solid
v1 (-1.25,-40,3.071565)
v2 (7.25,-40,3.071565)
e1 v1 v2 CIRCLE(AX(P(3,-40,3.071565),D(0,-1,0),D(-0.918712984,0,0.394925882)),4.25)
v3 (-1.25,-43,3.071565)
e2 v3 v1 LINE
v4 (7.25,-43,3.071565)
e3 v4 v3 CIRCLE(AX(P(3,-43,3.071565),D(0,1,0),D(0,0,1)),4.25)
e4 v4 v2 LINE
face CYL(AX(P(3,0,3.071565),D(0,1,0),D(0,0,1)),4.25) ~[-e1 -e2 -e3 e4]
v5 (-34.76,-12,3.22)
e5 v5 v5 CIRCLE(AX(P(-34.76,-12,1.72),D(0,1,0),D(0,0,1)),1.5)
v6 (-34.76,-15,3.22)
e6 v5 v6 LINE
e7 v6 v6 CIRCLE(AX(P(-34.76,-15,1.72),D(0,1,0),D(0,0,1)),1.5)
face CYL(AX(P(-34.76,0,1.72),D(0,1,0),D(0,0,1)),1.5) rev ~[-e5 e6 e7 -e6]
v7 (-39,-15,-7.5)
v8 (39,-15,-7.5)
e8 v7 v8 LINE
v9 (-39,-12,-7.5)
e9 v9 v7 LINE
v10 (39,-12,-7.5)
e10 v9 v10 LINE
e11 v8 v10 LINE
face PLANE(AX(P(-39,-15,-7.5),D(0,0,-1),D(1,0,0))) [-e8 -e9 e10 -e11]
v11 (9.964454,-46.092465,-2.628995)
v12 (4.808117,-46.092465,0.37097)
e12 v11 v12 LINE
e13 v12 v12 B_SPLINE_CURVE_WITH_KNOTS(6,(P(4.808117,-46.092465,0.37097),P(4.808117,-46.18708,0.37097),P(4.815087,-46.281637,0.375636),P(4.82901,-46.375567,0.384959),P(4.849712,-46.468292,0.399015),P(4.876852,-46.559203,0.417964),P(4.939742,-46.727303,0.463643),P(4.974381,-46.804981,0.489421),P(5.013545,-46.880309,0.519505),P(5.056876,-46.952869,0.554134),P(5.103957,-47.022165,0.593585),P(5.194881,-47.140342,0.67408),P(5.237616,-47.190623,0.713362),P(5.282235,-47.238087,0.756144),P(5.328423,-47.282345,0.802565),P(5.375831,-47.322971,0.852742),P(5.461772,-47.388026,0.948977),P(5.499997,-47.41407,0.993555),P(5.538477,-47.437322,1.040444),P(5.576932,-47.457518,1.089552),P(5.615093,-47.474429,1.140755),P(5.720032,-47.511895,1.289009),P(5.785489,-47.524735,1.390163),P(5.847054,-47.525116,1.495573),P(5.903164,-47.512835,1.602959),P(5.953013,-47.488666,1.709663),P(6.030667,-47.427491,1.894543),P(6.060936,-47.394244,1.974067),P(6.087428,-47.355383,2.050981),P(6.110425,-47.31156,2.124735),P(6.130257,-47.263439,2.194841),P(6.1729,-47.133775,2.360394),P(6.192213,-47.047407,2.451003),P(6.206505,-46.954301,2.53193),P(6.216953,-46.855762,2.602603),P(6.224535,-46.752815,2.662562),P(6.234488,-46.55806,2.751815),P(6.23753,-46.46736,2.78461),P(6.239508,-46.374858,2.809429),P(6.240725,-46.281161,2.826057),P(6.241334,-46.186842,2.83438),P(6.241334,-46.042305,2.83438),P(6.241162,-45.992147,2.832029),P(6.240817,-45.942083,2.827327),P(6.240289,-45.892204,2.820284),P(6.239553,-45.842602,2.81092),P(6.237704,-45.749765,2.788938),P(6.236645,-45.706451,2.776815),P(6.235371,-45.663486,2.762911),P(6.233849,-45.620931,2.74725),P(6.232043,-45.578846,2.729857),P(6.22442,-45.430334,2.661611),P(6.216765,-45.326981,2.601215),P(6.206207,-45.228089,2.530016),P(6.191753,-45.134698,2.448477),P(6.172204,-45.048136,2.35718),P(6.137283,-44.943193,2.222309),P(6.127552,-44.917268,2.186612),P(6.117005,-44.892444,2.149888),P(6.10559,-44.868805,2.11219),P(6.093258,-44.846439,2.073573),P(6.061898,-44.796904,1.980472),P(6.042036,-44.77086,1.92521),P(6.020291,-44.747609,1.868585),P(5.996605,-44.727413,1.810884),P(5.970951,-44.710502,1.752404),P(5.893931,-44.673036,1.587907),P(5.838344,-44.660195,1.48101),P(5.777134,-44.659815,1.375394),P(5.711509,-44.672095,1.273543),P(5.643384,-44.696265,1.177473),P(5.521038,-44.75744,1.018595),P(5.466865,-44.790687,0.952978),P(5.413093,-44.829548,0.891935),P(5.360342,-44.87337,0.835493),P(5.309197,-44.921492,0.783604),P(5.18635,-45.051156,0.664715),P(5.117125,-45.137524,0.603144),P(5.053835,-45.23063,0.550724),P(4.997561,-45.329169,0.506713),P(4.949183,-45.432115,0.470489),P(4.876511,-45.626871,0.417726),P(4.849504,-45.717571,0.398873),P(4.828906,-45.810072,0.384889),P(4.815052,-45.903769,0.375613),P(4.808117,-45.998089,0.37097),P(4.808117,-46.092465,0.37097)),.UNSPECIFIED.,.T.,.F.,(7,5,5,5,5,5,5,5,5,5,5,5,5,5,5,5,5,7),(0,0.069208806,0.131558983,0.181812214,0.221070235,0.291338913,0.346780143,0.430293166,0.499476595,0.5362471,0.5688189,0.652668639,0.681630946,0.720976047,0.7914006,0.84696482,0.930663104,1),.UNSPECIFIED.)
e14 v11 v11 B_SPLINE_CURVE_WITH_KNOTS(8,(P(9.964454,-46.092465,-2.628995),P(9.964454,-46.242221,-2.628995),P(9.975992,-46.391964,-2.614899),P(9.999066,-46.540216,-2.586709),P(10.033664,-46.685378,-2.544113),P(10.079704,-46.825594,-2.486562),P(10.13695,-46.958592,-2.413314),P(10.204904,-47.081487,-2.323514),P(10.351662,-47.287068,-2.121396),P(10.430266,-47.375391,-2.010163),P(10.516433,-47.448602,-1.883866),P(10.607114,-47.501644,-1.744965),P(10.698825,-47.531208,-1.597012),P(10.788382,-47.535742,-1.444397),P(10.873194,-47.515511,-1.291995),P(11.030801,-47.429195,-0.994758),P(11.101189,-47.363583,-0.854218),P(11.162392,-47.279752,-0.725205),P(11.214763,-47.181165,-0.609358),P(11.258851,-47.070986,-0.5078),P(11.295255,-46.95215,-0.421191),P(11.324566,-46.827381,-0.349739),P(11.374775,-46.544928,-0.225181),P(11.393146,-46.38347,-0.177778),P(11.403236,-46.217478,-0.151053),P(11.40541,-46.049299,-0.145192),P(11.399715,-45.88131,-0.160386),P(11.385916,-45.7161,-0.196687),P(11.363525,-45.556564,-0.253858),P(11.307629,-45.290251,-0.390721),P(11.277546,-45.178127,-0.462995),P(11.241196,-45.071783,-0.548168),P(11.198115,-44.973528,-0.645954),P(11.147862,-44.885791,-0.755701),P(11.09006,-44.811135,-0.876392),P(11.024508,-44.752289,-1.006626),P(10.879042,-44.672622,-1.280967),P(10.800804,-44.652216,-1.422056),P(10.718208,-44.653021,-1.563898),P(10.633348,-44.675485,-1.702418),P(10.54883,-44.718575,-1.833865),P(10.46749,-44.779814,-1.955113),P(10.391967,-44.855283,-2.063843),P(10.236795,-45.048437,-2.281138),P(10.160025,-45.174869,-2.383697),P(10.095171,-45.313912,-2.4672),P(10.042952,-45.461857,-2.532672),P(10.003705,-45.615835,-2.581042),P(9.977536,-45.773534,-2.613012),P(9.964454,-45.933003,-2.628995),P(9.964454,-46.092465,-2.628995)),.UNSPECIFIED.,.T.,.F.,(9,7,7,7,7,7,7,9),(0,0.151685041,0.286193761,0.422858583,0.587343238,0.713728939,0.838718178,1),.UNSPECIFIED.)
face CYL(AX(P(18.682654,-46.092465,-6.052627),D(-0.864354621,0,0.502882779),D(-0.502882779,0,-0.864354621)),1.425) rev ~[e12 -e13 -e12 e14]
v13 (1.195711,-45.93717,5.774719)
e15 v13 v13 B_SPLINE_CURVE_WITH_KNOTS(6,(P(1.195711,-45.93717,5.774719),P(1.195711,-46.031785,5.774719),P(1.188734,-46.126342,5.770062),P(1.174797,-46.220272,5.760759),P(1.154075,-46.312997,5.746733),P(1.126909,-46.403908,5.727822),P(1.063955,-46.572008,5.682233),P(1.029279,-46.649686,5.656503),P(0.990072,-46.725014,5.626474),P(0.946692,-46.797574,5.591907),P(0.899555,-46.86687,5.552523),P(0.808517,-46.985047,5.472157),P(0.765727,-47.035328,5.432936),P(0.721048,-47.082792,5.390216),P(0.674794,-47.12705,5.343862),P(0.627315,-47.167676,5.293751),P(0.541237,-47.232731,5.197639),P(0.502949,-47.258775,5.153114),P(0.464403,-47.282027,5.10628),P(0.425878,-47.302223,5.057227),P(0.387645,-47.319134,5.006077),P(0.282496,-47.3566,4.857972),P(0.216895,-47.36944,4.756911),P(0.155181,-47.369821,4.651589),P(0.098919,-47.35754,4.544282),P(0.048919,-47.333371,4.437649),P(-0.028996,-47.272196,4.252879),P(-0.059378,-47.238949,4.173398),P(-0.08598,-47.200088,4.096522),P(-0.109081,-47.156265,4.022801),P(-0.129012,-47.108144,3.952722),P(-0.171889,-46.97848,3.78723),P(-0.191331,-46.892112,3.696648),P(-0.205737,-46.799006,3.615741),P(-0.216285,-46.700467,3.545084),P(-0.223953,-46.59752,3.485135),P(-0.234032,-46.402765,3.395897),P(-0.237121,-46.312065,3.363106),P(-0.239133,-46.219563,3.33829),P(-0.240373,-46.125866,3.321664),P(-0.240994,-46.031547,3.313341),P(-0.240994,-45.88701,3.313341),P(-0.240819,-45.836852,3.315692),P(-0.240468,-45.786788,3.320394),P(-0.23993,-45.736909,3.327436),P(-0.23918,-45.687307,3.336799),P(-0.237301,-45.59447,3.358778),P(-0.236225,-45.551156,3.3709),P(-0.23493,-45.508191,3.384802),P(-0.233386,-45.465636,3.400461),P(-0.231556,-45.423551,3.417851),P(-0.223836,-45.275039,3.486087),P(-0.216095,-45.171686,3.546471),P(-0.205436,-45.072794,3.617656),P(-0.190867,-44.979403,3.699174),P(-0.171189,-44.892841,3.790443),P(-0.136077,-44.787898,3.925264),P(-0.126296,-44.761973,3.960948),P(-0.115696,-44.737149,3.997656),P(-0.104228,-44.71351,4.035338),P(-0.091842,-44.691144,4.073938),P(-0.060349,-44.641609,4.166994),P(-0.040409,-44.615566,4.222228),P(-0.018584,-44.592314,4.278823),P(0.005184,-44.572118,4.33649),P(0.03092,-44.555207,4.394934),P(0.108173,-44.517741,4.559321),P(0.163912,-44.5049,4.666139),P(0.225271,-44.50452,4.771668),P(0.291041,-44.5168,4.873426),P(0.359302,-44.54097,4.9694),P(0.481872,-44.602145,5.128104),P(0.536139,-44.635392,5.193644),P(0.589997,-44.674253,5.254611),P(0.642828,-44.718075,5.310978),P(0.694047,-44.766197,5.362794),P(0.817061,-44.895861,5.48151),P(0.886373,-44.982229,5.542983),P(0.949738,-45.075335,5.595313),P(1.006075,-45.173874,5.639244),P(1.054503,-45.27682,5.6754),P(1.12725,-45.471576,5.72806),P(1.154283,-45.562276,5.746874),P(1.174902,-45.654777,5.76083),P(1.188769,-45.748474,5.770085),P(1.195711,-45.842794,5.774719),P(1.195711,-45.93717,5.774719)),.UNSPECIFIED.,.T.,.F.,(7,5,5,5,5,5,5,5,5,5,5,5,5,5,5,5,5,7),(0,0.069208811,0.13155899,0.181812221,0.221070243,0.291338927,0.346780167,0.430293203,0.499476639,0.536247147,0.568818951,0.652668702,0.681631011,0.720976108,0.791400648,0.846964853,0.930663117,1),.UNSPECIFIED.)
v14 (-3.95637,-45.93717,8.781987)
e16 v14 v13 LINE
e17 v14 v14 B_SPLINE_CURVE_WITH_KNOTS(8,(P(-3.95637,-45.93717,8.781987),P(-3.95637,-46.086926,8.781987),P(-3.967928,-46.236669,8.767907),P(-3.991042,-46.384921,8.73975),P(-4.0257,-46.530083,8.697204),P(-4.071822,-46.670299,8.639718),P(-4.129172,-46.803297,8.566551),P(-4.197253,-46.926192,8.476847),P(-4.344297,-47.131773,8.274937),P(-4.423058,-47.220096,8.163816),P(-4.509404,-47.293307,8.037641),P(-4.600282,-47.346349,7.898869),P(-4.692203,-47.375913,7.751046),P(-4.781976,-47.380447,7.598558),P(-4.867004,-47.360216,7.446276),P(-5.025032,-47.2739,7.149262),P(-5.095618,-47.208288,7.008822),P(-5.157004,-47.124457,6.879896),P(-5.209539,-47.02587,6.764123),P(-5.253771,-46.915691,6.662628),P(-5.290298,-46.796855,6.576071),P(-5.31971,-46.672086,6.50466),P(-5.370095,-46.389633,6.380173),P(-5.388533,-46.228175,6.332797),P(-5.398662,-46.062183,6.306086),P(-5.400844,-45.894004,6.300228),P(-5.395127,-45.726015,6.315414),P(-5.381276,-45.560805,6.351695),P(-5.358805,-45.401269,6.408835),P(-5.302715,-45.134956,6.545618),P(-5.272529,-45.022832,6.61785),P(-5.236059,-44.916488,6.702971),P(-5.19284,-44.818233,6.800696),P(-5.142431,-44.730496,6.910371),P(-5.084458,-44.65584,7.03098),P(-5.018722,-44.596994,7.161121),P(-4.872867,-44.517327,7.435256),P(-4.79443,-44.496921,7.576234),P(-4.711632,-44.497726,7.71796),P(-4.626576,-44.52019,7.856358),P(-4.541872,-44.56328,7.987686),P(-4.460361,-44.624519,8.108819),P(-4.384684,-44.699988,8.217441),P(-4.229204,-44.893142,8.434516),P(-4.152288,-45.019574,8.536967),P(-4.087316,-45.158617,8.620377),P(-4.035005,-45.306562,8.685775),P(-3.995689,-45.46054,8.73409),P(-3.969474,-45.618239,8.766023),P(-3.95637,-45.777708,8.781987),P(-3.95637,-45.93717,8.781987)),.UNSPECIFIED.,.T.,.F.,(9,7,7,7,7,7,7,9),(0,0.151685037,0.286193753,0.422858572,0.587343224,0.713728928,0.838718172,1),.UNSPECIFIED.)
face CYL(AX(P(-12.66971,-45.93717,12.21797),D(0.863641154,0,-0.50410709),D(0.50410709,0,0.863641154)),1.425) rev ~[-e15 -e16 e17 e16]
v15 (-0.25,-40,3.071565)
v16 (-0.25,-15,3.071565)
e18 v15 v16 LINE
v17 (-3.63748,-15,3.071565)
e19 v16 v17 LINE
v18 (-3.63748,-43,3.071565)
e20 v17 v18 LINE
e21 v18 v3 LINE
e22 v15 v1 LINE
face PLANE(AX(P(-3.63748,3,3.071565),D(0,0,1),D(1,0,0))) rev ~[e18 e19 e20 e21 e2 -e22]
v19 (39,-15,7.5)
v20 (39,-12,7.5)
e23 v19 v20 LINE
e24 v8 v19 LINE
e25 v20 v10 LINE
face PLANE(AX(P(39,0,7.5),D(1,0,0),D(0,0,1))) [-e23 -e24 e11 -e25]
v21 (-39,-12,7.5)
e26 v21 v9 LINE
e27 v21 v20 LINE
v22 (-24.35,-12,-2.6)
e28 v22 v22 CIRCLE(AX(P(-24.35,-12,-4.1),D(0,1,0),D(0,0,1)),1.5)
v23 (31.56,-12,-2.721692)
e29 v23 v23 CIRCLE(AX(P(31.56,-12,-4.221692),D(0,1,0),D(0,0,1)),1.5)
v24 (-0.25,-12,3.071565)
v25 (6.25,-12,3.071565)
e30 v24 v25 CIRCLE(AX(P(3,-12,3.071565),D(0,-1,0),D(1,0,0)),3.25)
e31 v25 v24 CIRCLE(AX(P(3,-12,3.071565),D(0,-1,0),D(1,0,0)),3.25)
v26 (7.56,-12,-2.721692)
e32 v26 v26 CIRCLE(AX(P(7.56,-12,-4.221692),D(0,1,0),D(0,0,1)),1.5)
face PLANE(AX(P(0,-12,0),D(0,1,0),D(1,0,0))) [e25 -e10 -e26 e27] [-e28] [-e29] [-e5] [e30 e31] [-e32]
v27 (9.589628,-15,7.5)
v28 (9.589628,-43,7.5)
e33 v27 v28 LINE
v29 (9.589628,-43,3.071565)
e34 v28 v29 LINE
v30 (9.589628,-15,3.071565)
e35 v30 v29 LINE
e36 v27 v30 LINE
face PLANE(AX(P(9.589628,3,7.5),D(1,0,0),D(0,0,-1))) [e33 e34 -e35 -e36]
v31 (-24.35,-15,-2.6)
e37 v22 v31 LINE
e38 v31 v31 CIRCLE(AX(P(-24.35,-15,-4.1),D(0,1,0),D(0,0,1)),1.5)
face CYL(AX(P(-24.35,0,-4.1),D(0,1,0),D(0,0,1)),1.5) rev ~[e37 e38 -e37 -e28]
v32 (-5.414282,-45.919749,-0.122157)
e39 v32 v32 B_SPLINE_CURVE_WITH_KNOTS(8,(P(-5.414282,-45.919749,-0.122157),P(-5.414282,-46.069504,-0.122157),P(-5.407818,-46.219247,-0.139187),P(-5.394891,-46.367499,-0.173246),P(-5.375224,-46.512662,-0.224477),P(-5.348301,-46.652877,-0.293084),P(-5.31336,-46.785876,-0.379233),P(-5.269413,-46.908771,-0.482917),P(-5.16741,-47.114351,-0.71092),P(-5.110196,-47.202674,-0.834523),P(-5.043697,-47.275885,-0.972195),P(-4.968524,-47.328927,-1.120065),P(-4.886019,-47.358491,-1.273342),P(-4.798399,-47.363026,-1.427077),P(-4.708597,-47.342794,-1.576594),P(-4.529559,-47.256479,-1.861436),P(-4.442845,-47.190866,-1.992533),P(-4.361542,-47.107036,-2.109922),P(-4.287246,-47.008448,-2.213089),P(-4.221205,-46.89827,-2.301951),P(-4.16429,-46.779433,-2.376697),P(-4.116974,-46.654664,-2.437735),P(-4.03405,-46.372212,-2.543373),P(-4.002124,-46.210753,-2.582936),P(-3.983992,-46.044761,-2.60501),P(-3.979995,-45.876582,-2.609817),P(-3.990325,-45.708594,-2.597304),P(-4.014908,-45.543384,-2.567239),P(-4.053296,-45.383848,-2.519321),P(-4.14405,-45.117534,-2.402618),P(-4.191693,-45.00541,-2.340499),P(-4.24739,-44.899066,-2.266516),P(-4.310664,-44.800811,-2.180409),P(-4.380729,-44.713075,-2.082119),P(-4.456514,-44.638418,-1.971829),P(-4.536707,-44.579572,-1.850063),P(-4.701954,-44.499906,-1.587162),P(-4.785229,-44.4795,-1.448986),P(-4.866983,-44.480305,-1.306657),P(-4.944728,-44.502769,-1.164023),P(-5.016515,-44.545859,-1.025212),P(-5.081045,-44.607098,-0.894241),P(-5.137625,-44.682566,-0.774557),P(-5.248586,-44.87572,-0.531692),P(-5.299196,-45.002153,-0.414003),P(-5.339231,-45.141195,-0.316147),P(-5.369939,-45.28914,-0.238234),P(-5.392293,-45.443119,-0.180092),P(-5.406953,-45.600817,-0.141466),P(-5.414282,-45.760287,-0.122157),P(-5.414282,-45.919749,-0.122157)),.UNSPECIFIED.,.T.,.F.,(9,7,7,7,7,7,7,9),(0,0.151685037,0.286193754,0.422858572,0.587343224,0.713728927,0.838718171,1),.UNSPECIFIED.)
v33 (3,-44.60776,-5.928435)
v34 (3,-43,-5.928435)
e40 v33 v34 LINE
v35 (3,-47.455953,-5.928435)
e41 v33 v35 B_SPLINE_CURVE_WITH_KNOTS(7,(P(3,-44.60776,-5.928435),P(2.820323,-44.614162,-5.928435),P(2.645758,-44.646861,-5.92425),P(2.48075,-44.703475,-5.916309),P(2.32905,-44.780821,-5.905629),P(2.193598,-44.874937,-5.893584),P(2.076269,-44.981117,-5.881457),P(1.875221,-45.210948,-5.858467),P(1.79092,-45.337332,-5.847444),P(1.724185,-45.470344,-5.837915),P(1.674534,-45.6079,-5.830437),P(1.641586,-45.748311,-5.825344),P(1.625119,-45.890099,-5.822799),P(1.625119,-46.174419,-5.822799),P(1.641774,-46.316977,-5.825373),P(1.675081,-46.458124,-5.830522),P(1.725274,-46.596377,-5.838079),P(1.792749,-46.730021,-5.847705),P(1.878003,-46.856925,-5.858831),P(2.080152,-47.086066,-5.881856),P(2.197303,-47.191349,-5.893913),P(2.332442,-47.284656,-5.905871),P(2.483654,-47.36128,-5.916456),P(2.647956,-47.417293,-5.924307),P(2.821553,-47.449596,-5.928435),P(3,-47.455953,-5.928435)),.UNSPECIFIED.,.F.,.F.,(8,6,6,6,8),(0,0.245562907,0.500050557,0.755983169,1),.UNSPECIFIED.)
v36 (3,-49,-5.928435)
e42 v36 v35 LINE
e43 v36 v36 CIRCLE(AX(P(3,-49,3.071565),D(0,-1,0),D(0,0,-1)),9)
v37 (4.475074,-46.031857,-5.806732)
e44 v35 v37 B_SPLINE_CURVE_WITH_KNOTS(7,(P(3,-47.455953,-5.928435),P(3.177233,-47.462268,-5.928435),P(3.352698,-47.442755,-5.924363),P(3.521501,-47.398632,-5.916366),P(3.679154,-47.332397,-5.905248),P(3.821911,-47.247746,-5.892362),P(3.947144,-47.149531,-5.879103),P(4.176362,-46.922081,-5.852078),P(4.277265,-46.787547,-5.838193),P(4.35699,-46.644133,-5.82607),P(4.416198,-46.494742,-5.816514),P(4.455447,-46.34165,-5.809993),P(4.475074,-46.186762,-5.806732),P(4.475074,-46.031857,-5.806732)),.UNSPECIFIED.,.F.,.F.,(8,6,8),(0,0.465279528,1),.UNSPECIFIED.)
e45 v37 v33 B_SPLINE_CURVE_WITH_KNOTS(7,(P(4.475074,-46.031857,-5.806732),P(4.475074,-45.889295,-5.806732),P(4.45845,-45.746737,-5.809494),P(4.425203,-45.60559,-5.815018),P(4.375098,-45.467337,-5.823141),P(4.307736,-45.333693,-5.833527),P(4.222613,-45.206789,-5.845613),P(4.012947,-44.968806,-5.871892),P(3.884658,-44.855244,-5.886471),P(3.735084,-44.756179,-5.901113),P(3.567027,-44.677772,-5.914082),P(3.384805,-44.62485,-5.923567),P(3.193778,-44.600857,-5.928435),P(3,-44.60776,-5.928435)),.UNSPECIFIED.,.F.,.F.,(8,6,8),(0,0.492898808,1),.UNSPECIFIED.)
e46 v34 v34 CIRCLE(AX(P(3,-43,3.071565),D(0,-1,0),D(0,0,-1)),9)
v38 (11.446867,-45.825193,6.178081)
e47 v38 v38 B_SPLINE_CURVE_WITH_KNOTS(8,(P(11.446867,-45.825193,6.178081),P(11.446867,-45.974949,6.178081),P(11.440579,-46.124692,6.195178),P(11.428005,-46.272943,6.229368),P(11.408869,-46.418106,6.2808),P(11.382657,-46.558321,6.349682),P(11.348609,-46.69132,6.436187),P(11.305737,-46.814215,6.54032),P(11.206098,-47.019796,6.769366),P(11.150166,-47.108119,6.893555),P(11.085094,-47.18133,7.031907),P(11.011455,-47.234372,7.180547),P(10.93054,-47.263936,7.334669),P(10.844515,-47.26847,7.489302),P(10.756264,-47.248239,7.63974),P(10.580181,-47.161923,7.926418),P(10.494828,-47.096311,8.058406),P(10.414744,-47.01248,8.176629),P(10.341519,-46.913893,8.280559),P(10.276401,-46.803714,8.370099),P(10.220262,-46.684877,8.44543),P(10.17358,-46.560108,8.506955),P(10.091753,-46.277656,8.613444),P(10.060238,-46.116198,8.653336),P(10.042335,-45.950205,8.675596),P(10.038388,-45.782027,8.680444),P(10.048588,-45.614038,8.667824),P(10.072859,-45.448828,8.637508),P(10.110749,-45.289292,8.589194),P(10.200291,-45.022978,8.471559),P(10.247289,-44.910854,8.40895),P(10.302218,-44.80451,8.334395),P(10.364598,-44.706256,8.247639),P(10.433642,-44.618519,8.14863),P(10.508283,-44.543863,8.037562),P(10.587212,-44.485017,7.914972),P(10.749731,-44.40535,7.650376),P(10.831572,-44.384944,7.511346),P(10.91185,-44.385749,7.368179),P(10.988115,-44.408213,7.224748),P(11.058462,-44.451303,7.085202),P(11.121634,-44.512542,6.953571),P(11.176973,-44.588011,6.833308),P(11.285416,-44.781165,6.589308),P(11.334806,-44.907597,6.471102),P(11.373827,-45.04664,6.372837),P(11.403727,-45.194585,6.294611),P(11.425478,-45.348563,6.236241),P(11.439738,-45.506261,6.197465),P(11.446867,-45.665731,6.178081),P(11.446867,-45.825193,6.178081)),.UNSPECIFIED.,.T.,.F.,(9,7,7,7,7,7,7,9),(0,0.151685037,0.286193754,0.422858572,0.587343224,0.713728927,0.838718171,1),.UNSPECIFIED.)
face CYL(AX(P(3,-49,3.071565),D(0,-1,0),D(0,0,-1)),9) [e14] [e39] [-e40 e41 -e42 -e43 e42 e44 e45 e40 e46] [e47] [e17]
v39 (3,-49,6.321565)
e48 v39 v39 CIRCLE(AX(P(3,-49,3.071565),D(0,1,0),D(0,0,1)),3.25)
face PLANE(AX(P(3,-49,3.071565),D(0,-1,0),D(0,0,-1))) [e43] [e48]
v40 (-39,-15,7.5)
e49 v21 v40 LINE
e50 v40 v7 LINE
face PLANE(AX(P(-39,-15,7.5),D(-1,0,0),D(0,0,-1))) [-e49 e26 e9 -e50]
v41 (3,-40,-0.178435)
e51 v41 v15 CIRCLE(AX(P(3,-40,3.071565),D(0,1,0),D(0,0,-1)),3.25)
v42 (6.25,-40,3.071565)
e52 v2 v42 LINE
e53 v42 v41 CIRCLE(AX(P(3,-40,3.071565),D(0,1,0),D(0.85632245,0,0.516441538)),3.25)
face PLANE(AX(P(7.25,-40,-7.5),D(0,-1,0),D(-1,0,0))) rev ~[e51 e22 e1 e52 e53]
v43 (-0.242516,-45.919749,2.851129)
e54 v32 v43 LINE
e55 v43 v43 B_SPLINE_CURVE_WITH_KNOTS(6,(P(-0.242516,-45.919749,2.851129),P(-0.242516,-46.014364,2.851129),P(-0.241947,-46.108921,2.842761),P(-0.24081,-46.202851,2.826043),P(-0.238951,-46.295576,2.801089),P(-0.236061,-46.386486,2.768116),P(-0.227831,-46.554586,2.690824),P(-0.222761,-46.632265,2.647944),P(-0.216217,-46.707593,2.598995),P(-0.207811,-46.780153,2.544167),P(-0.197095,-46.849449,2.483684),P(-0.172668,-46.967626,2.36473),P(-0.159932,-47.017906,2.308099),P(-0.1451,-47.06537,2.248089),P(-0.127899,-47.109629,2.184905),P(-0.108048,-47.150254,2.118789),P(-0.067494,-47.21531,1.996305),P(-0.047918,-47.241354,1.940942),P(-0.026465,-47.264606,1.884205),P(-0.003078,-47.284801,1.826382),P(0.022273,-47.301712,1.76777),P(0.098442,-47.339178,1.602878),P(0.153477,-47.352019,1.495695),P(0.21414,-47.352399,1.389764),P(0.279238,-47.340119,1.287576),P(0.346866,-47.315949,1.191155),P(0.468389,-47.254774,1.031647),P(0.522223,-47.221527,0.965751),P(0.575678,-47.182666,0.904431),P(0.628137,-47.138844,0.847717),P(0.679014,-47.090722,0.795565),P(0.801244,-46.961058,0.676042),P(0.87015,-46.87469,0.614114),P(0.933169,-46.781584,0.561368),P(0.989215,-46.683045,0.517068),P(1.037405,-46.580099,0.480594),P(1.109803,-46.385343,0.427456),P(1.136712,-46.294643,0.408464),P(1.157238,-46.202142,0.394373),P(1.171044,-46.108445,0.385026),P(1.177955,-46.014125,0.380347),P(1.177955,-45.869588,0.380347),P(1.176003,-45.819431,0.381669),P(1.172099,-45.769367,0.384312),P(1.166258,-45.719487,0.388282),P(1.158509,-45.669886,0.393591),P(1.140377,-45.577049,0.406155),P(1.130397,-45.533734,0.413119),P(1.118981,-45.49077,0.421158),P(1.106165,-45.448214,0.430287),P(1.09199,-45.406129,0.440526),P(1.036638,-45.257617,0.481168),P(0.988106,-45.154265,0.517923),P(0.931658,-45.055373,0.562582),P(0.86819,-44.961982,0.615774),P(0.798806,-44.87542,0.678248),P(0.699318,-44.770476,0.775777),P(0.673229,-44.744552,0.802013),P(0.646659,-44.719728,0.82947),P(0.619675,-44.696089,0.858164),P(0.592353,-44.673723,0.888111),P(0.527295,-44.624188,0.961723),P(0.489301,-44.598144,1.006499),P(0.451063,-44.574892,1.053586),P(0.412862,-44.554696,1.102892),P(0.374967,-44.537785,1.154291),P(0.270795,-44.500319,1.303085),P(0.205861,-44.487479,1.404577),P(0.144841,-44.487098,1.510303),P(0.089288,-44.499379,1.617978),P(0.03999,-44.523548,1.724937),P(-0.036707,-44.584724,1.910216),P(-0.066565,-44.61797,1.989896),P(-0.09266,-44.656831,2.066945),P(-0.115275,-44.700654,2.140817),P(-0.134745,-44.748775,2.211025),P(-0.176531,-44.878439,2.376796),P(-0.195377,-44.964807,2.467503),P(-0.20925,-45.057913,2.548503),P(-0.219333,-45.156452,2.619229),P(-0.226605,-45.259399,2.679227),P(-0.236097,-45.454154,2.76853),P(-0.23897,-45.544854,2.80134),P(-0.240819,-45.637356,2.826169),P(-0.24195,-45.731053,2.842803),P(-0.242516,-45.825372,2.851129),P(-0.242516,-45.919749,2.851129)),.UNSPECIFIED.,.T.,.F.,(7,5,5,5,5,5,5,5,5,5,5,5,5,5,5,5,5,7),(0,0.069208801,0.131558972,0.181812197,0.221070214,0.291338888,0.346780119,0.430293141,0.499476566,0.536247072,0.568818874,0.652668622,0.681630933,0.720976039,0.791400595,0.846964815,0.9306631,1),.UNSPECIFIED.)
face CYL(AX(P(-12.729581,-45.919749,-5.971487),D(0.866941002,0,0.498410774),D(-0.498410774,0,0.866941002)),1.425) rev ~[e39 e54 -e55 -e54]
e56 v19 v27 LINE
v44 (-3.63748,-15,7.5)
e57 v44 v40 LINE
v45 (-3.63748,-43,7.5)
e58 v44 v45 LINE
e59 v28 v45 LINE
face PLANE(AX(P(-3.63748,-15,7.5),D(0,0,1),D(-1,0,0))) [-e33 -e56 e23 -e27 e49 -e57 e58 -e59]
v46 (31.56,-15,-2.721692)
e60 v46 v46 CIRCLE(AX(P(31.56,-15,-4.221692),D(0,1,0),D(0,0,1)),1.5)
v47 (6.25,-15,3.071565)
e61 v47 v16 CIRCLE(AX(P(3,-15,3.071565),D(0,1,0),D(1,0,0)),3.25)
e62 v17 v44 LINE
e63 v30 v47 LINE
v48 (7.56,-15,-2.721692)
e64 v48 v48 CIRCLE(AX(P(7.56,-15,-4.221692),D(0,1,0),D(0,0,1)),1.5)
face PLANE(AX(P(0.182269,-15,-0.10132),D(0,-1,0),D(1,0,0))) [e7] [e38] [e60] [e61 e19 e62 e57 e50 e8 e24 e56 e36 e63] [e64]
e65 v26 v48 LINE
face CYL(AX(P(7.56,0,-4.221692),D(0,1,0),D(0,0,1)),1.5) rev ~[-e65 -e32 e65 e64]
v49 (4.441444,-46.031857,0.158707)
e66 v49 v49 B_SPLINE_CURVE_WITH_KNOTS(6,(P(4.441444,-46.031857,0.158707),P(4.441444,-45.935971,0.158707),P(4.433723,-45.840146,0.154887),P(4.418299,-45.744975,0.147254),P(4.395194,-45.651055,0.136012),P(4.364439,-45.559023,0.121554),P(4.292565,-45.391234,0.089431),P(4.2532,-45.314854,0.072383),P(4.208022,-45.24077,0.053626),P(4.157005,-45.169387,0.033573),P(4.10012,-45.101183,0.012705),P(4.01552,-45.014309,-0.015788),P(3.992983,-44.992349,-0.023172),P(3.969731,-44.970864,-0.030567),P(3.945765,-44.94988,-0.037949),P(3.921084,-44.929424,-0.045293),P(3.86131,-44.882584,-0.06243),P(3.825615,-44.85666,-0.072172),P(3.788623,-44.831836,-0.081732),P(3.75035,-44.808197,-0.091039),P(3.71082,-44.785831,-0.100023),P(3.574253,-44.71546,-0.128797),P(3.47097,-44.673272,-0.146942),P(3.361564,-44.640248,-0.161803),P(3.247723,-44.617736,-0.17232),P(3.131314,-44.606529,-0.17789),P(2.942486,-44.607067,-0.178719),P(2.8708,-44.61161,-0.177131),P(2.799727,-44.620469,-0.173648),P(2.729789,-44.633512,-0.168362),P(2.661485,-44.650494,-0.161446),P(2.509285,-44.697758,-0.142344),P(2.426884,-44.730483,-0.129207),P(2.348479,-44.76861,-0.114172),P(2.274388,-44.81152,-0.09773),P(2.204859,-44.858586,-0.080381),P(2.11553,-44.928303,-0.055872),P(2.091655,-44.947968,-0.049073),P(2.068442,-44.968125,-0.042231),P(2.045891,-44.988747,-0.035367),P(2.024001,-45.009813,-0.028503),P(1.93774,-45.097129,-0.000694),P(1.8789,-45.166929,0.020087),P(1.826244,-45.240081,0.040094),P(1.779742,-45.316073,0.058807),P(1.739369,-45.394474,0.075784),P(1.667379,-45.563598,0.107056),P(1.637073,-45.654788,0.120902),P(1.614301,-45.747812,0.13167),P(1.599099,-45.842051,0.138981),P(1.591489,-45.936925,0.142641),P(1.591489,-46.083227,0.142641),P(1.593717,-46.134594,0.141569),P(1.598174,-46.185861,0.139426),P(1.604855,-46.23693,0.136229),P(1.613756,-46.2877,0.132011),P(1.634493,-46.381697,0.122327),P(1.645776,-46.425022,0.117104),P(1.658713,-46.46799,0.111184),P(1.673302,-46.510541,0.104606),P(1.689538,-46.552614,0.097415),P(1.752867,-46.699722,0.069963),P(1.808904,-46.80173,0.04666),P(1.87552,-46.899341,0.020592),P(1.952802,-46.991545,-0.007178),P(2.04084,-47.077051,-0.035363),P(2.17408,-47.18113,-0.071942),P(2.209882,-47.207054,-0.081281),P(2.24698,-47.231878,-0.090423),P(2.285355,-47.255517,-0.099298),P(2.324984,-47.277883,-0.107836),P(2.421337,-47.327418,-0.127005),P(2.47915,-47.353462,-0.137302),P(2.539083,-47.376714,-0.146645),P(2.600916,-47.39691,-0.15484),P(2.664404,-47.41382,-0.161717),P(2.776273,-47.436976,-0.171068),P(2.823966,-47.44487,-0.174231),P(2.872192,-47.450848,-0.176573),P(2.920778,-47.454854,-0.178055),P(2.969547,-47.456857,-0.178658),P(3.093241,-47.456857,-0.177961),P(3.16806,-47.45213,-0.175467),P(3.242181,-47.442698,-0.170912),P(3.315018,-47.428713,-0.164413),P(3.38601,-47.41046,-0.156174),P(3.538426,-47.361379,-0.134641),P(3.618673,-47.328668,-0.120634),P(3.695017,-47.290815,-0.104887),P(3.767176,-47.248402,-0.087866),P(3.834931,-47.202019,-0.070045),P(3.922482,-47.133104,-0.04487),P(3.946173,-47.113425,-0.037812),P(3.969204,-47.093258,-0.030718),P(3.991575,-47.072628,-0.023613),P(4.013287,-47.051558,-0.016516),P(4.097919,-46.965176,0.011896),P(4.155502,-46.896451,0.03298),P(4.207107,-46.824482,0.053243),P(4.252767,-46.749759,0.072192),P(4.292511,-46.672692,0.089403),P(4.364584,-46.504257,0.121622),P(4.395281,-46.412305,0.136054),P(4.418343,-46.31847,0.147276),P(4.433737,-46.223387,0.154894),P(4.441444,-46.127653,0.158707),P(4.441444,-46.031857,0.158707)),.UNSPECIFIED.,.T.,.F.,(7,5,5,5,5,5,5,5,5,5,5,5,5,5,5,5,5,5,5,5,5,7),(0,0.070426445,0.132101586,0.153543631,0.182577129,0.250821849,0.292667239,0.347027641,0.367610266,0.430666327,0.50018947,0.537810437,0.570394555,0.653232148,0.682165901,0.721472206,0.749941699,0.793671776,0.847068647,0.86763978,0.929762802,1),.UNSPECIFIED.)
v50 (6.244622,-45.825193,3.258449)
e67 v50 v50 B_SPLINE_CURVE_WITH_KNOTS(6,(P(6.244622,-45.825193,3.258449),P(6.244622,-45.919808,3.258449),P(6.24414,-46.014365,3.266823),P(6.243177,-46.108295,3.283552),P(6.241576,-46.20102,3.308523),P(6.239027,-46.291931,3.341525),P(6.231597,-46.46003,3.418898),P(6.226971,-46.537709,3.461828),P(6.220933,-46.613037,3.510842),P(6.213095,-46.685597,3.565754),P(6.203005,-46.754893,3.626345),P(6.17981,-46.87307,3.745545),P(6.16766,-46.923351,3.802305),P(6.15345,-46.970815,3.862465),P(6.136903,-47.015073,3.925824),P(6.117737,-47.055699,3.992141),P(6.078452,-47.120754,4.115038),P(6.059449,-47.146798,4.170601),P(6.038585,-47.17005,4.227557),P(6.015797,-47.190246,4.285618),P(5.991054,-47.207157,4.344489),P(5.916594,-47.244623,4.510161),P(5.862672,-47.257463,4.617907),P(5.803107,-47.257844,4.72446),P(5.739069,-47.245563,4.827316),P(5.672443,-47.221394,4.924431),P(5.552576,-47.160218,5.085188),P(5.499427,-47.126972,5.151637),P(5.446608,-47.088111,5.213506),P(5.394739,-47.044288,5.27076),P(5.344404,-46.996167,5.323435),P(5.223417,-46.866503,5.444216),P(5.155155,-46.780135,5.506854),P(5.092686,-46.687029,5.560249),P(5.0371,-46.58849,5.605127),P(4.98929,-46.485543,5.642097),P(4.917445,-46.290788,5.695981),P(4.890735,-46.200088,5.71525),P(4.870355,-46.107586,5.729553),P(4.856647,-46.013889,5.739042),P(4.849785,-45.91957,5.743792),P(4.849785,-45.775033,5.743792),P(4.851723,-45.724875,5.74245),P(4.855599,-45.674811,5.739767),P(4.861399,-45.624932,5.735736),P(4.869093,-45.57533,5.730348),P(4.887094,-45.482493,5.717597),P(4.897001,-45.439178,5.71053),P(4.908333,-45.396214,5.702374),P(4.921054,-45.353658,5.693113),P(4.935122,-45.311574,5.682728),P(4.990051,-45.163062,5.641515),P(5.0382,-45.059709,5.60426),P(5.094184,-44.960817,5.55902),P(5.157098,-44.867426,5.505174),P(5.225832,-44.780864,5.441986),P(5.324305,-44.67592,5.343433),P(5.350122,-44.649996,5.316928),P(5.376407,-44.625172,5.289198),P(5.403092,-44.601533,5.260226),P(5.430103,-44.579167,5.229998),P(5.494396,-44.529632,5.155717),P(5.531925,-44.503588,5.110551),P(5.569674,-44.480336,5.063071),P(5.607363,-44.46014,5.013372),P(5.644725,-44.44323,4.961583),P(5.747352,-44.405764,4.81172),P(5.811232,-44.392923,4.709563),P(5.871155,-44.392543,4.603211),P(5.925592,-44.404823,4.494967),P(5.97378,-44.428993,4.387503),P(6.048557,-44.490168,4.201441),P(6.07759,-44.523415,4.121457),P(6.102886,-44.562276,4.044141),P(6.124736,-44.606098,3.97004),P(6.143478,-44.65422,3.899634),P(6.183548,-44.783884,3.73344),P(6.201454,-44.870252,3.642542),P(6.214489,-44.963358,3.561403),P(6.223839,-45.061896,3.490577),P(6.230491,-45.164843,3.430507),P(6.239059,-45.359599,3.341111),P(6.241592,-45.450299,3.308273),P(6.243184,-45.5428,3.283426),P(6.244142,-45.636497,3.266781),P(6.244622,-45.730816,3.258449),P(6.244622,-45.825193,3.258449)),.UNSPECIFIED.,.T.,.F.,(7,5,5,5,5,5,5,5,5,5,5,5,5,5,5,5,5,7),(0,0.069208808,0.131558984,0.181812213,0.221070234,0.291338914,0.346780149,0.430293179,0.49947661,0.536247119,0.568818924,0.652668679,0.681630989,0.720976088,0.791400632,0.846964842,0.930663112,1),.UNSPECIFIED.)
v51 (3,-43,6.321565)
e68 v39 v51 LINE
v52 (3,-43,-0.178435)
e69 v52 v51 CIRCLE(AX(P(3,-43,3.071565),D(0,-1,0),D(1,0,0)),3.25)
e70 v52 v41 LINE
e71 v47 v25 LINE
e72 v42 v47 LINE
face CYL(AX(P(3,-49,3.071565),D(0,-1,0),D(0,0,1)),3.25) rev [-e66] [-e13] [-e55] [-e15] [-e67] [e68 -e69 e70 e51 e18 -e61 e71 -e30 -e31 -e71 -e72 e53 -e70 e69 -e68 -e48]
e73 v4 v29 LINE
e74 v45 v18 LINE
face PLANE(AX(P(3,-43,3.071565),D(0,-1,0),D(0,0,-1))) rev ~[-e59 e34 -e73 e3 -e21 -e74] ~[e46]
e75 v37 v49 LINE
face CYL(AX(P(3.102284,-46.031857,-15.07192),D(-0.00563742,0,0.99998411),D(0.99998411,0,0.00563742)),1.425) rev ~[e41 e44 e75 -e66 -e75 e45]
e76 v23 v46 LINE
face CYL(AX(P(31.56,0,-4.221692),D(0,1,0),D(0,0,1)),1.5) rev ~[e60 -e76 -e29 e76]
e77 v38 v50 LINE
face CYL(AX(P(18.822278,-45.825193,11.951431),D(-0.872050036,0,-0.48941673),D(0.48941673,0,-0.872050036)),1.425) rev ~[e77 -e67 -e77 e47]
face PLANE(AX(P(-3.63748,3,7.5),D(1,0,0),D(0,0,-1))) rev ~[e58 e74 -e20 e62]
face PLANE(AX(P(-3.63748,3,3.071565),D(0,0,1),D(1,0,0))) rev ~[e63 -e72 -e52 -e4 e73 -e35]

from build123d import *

# Parameters (mm, degrees)
SKETCH_1_W                = 78
SKETCH_1_H                = 15
EXTRUDE_1_DEPTH           = 3
SKETCH_3_R                = 1.5
CUT_EXTRUDE_1_DEPTH       = 3
SKETCH_4_R                = 6
EXTRUDE_2_DEPTH           = 18
SKETCH_5_R                = 4.5
CUT_EXTRUDE_2_DEPTH       = 21
F_2_0MM_2_D               = 3
F_2_0MM_2_DEPTH           = 4.5
F_2_0MM_2_TIP             = 1.5
F_2_0MM_2_ON_FACE_2_D     = 3
F_2_0MM_2_ON_FACE_2_DEPTH = 4.5
F_2_0MM_2_ON_FACE_2_TIP   = 1.5
SKETCH_10_W               = 6
SKETCH_10_H               = 10
CUT_EXTRUDE_3_DEPTH       = 7
SKETCH_13_W               = 19.835687411
SKETCH_13_H               = 21.610205193
CUT_EXTRUDE_4_DEPTH       = 20
SKETCH_14_W               = 11.523038103
SKETCH_14_H               = 10.49031299
EXTRUDE_3_DEPTH           = 3
SKETCH_18_W               = 78
SKETCH_18_H               = 8
EXTRUDE_4_DEPTH           = 3
SKETCH_19_W               = 36.767904102
SKETCH_19_H               = 2.5
EXTRUDE_5_DEPTH           = 12.5
SKETCH_23_R               = 1.65
CUT_EXTRUDE_6_DEPTH       = 12.5
SKETCH_25_W               = 4.236607592
SKETCH_25_H               = 5.36409187
EXTRUDE_7_DEPTH           = 2.5
SKETCH_26_R               = 1.6
CUT_EXTRUDE_7_DEPTH       = 2.5
SKETCH_27_W               = 21.346012392
SKETCH_27_H               = 6.594354882
EXTRUDE_8_DEPTH           = 2.5
SKETCH_28_W               = 36.767231154
SKETCH_28_H               = 5.91819544
EXTRUDE_9_DEPTH           = 2.5
SKETCH_29_W               = 27.660340415
SKETCH_29_H               = 3.5
CUT_EXTRUDE_9_DEPTH       = 2.5
SKETCH_30_W               = 78
SKETCH_30_H               = 8
CUT_EXTRUDE_10_DEPTH      = 100
SKETCH_31_W               = 60.820132647
SKETCH_31_H               = 3
EXTRUDE_10_DEPTH          = 49
SKETCH_32_W               = 48
SKETCH_32_H               = 3.2
CUT_EXTRUDE_11_DEPTH      = 49
SKETCH_33_W               = 15
SKETCH_33_H               = 49.05968874
CUT_EXTRUDE_12_DEPTH      = 100
SKETCH_34_R               = 4.25
EXTRUDE_11_DEPTH          = 49
SKETCH_35_R               = 6
EXTRUDE_12_DEPTH          = 6
SKETCH_36_W               = 8.5
SKETCH_36_H               = 40
CUT_EXTRUDE_13_DEPTH      = 11
SKETCH_37_R               = 3.25
CUT_EXTRUDE_16_DEPTH      = 100
SKETCH_39_W               = 8.456699936
SKETCH_39_H               = 16
CUT_EXTRUDE_17_DEPTH      = 1.25
F_3_0MM_1_D               = 2.85
F_3_0MM_1_DEPTH           = 4.143773618
F_3_0MM_1_TIP             = 0.856226382
F_3_0MM_2_D               = 2.85
F_3_0MM_2_DEPTH           = 4.143773618
F_3_0MM_2_TIP             = 0.856226382
F_3_0MM_3_D               = 2.85
F_3_0MM_3_DEPTH           = 4.143773618
F_3_0MM_3_TIP             = 0.856226382
SKETCH_46_W               = 13.227107738
SKETCH_46_H               = 4.428434999
EXTRUDE_13_DEPTH          = 46
CUT_EXTRUDE_18_DEPTH      = 55
EXTRUDE_START             = 15
EXTRUDE_14_DEPTH          = 15
SKETCH_50_R               = 1.5
CUT_EXTRUDE_19_DEPTH      = 15
SKETCH_51_R               = 1.5
CUT_EXTRUDE_20_DEPTH      = 15
SKETCH_52_R               = 1.5
CUT_EXTRUDE_21_DEPTH      = 15
SKETCH_53_R               = 1.5
CUT_EXTRUDE_22_DEPTH      = 15
SKETCH_54_W               = 78
SKETCH_54_H               = 15
CUT_EXTRUDE_23_DEPTH      = 15
F_3_0MM_4_D               = 2.85
F_3_0MM_4_DEPTH           = 4.143773618
F_3_0MM_4_TIP             = 0.856226382
F_3_0MM_5_D               = 2.85
F_3_0MM_5_DEPTH           = 4.143773618
F_3_0MM_5_TIP             = 0.856226382
SKETCH_60_R               = 9
EXTRUDE_15_DEPTH          = 6
CUT_EXTRUDE_START         = -6
SKETCH_61_R               = 3.25
CUT_EXTRUDE_24_DEPTH      = 6
F_3_0MM_6_D               = 2.85
F_3_0MM_6_DEPTH           = 9.143773618
F_3_0MM_6_TIP             = 0.856226382
F_3_0MM_7_D               = 2.85
F_3_0MM_7_DEPTH           = 9.143773618
F_3_0MM_7_TIP             = 0.856226382
F_3_0MM_7_ON_FACE_2_D     = 2.85
F_3_0MM_7_ON_FACE_2_DEPTH = 9.143773618
F_3_0MM_7_ON_FACE_2_TIP   = 0.856226382
F_3_0MM_8_D               = 2.85
F_3_0MM_8_DEPTH           = 9.143773618
F_3_0MM_8_TIP             = 0.856226382
F_3_0MM_8_ON_FACE_2_D     = 2.85
F_3_0MM_8_ON_FACE_2_DEPTH = 9.143773618
F_3_0MM_8_ON_FACE_2_TIP   = 0.856226382


with BuildPart() as part:
    # 草图1 → 凸台-拉伸1 (new body)
    with BuildSketch(Plane(origin=(0, 0, 0), x_dir=(1, 0, 0), z_dir=(0, 1, 0))):
        Rectangle(SKETCH_1_W, SKETCH_1_H)
    extrude(amount=EXTRUDE_1_DEPTH)

    # 草图3 → 切除-拉伸1 (cut)
    with BuildSketch(Plane(origin=(0, 3, 0), x_dir=(1, 0, 0), z_dir=(0, 1, 0))):
        with Locations(Location((-34.76, -1.72, 0), (0, 0, 270))):
            Circle(SKETCH_3_R)
        with Locations(Location((-24.35, 4.1, 0), (0, 0, 270))):
            Circle(SKETCH_3_R)
        with Locations(Location((31.56, 4.221692081, 0), (0, 0, 270))):
            Circle(SKETCH_3_R)
        with Locations(Location((7.56, 4.221692081, 0), (0, 0, 270))):
            Circle(SKETCH_3_R)
    extrude(amount=-CUT_EXTRUDE_1_DEPTH, mode=Mode.SUBTRACT)

    # 草图4 → 凸台-拉伸2 (add)
    with BuildSketch(Plane(origin=(0, 3, 0), x_dir=(1, 0, 0), z_dir=(0, 1, 0))):
        with Locations(Location((-3, -1.234165229, 0), (0, 0, 270))):
            Circle(SKETCH_4_R)
    extrude(amount=EXTRUDE_2_DEPTH)

    # 草图5 → 切除-拉伸2 (cut)
    with BuildSketch(Plane(origin=(0, 21, 0), x_dir=(1, 0, 0), z_dir=(0, 1, 0))):
        with Locations(Location((-3, -1.234165229, 0), (0, 0, 270))):
            Circle(SKETCH_5_R)
    extrude(amount=-CUT_EXTRUDE_2_DEPTH, mode=Mode.SUBTRACT)

    # Ø2.0mm 暗销孔2
    with Locations(Plane(origin=(-7.901331048, 17.342107422, 4.694938836), x_dir=(-0.576795601176, 0, -0.816888507977), z_dir=(-0.816888507977, 0, 0.576795601176))):
        with Locations((0, 0)):
            Hole(F_2_0MM_2_D / 2, depth=F_2_0MM_2_DEPTH)
            with Locations((0, 0, -(F_2_0MM_2_DEPTH + F_2_0MM_2_TIP / 2))):  # 90° drill point
                Cone(0, F_2_0MM_2_D / 2, F_2_0MM_2_TIP, mode=Mode.SUBTRACT)

    # Ø2.0mm 暗销孔2 on face 2
    with Locations(Plane(origin=(1.071764877, 17.164817099, 5.641061052), x_dir=(0.734483043181, 0, -0.678627039897), z_dir=(0.678627039897, 0, 0.734483043181))):
        with Locations((0, 0)):
            Hole(F_2_0MM_2_ON_FACE_2_D / 2, depth=F_2_0MM_2_ON_FACE_2_DEPTH)
            with Locations((0, 0, -(F_2_0MM_2_ON_FACE_2_DEPTH + F_2_0MM_2_ON_FACE_2_TIP / 2))):  # 90° drill point
                Cone(0, F_2_0MM_2_ON_FACE_2_D / 2, F_2_0MM_2_ON_FACE_2_TIP, mode=Mode.SUBTRACT)

    # 草图10 → 切除-拉伸3 (cut)
    with BuildSketch(Plane(origin=(0, 0, -7.5), x_dir=(-1, 0, 0), z_dir=(0, 0, -1))):
        with Locations((3, 8)):
            Rectangle(SKETCH_10_W, SKETCH_10_H)
    extrude(amount=-CUT_EXTRUDE_3_DEPTH, mode=Mode.SUBTRACT)

    # 草图13 → 切除-拉伸4 (cut)
    with BuildSketch(Plane(origin=(0, 0, -7.5), x_dir=(-1, 0, 0), z_dir=(0, 0, -1))):
        with Locations((3.314421038, 13.805102597)):
            Rectangle(SKETCH_13_W, SKETCH_13_H)
    extrude(amount=-CUT_EXTRUDE_4_DEPTH, mode=Mode.SUBTRACT)

    # 草图14 → 凸台-拉伸3 (add)
    with BuildSketch(Plane(origin=(0, 3, 0), x_dir=(1, 0, 0), z_dir=(0, 1, 0))):
        with Locations((-2.989467433, -1.263493391)):
            Rectangle(SKETCH_14_W, SKETCH_14_H)
    extrude(amount=-EXTRUDE_3_DEPTH)

    # 草图18 → 凸台-拉伸4 (add)
    with BuildSketch(Plane.XZ):
        with Locations((0, 11.5)):
            Rectangle(SKETCH_18_W, SKETCH_18_H)
    extrude(amount=-EXTRUDE_4_DEPTH)

    # 草图19 → 凸台-拉伸5 (add)
    with BuildSketch(Plane.XZ):
        with Locations((0.839237194, 14.25)):
            Rectangle(SKETCH_19_W, SKETCH_19_H)
    extrude(amount=EXTRUDE_5_DEPTH)

    # 草图23 → 切除-拉伸6 (cut)
    with BuildSketch(Plane(origin=(0, 0, 13), x_dir=(-1, 0, 0), z_dir=(0, 0, -1))):
        with Locations((-8.603189245, -6.05592298)):
            Circle(SKETCH_23_R)
        with Locations((2.596810755, -6.05592298)):
            Circle(SKETCH_23_R)
    extrude(amount=-CUT_EXTRUDE_6_DEPTH, mode=Mode.SUBTRACT)

    # 草图25 → 凸台-拉伸7 (add)
    with BuildSketch(Plane(origin=(0, 0, 13), x_dir=(-1, 0, 0), z_dir=(0, 0, -1))):
        with Locations((2.330668631, -6.426480946)):
            Rectangle(SKETCH_25_W, SKETCH_25_H)
    extrude(amount=-EXTRUDE_7_DEPTH)

    # 草图26 → 切除-拉伸7 (cut)
    with BuildSketch(Plane(origin=(0, 0, 13), x_dir=(-1, 0, 0), z_dir=(0, 0, -1))):
        with Locations((4.196810755, -6.05592298)):
            Circle(SKETCH_26_R)
    extrude(amount=-CUT_EXTRUDE_7_DEPTH, mode=Mode.SUBTRACT)

    # 草图27 → 凸台-拉伸8 (add)
    with BuildSketch(Plane(origin=(0, 0, 13), x_dir=(-1, 0, 0), z_dir=(0, 0, -1))):
        with Locations((-2.379316694, -6.691741876)):
            Rectangle(SKETCH_27_W, SKETCH_27_H)
    extrude(amount=-EXTRUDE_8_DEPTH)

    # 草图28 → 凸台-拉伸9 (add)
    with BuildSketch(Plane(origin=(0, 0, 13), x_dir=(-1, 0, 0), z_dir=(0, 0, -1))):
        with Locations((-0.839573668, -15.45909772)):
            Rectangle(SKETCH_28_W, SKETCH_28_H)
    extrude(amount=-EXTRUDE_9_DEPTH)

    # 草图29 → 切除-拉伸9 (cut)
    with BuildSketch(Plane(origin=(0, 0, 13), x_dir=(-1, 0, 0), z_dir=(0, 0, -1))):
        with Locations((-0.633763758, -13.394190827)):
            Rectangle(SKETCH_29_W, SKETCH_29_H)
    extrude(amount=-CUT_EXTRUDE_9_DEPTH, mode=Mode.SUBTRACT)

    # 草图30 → 切除-拉伸10 (cut)
    with BuildSketch(Plane(origin=(0, 3, 0), x_dir=(1, 0, 0), z_dir=(0, 1, 0))):
        with Locations((0, -11.5)):
            Rectangle(SKETCH_30_W, SKETCH_30_H)
    extrude(amount=-CUT_EXTRUDE_10_DEPTH, mode=Mode.SUBTRACT)

    # 草图31 → 凸台-拉伸10 (add)
    with BuildSketch(Plane.XZ):
        with Locations((0.65611444, 6)):
            Rectangle(SKETCH_31_W, SKETCH_31_H)
    extrude(amount=EXTRUDE_10_DEPTH)

    # 草图32 → 切除-拉伸11 (cut)
    with BuildSketch(Plane(origin=(0, 0, 4.5), x_dir=(-1, 0, 0), z_dir=(0, 0, -1))):
        with Locations((-0.175604554, -15.854114518)):
            Rectangle(SKETCH_32_W, SKETCH_32_H)
        with Locations((-0.205191163, -23.054114518)):
            Rectangle(SKETCH_32_W, SKETCH_32_H)
        with Locations((-0.173277927, -30.254114518)):
            Rectangle(SKETCH_32_W, SKETCH_32_H)
        with Locations((-0.15338956, -37.454114518)):
            Rectangle(SKETCH_32_W, SKETCH_32_H)
        with Locations((-0.189333293, -44.654114518)):
            Rectangle(SKETCH_32_W, SKETCH_32_H)
        with Locations((-0.276259634, -9.654114518)):
            Rectangle(SKETCH_32_W, SKETCH_32_H)
    extrude(amount=-CUT_EXTRUDE_11_DEPTH, mode=Mode.SUBTRACT)

    # 草图33 → 切除-拉伸12 (cut)
    with BuildSketch(Plane(origin=(31.066180764, 0, 0), x_dir=(0, 0, -1), z_dir=(1, 0, 0))):
        with Locations((0, -24.52984437)):
            Rectangle(SKETCH_33_W, SKETCH_33_H)
    extrude(amount=-CUT_EXTRUDE_12_DEPTH, mode=Mode.SUBTRACT)

    # 草图34 → 凸台-拉伸11 (add)
    with BuildSketch(Plane.XZ):
        with Locations(Location((3, 3.071565001, 0), (0, 0, 90))):
            Circle(SKETCH_34_R)
    extrude(amount=EXTRUDE_11_DEPTH)

    # 草图35 → 凸台-拉伸12 (add)
    with BuildSketch(Plane.XZ.offset(49)):
        with Locations(Location((3, 3.071565001, 0), (0, 0, 270))):
            Circle(SKETCH_35_R)
    extrude(amount=-EXTRUDE_12_DEPTH)

    # 草图36 → 切除-拉伸13 (cut)
    with BuildSketch(Plane(origin=(0, 0, -7.5), x_dir=(-1, 0, 0), z_dir=(0, 0, -1))):
        with Locations((-3, -20)):
            Rectangle(SKETCH_36_W, SKETCH_36_H)
    extrude(amount=-CUT_EXTRUDE_13_DEPTH, mode=Mode.SUBTRACT)

    # 草图37 → 切除-拉伸16 (cut)
    with BuildSketch(Plane.XZ.offset(49)):
        with Locations(Location((3, 3.071565001, 0), (0, 0, 270))):
            Circle(SKETCH_37_R)
    extrude(amount=-CUT_EXTRUDE_16_DEPTH, mode=Mode.SUBTRACT)

    # 草图39 → 切除-拉伸17 (cut)
    with BuildSketch(Plane(origin=(0, 0, 3.5), x_dir=(-1, 0, 0), z_dir=(0, 0, -1))):
        with Locations((-3, -32)):
            Rectangle(SKETCH_39_W, SKETCH_39_H)
    extrude(amount=-CUT_EXTRUDE_17_DEPTH, mode=Mode.SUBTRACT)

    # Ø3.0mm 暗销孔1
    with Locations(Plane(origin=(3.06916604, -45.926554475, -2.928036324), x_dir=(-0.999933554166, 0, -0.011527673319), z_dir=(0.011527673319, 0, -0.999933554166))):
        with Locations((0, 0)):
            Hole(F_3_0MM_1_D / 2, depth=F_3_0MM_1_DEPTH)
            with Locations((0, 0, -(F_3_0MM_1_DEPTH + F_3_0MM_1_TIP / 2))):  # 118° drill point
                Cone(0, F_3_0MM_1_D / 2, F_3_0MM_1_TIP, mode=Mode.SUBTRACT)

    # Ø3.0mm 暗销孔2
    with Locations(Plane(origin=(-2.19436254, -45.980907568, 6.074663036), x_dir=(-0.500516339146, 0, -0.865727089936), z_dir=(-0.865727089936, 0, 0.500516339146))):
        with Locations((0, 0)):
            Hole(F_3_0MM_2_D / 2, depth=F_3_0MM_2_DEPTH)
            with Locations((0, 0, -(F_3_0MM_2_DEPTH + F_3_0MM_2_TIP / 2))):  # 118° drill point
                Cone(0, F_3_0MM_2_D / 2, F_3_0MM_2_TIP, mode=Mode.SUBTRACT)

    # Ø3.0mm 暗销孔3
    with Locations(Plane(origin=(8.205806468, -46.039954185, 6.054781221), x_dir=(-0.497202703373, 0, 0.86763441135), z_dir=(0.86763441135, 0, 0.497202703373))):
        with Locations((0, 0)):
            Hole(F_3_0MM_3_D / 2, depth=F_3_0MM_3_DEPTH)
            with Locations((0, 0, -(F_3_0MM_3_DEPTH + F_3_0MM_3_TIP / 2))):  # 118° drill point
                Cone(0, F_3_0MM_3_D / 2, F_3_0MM_3_TIP, mode=Mode.SUBTRACT)

    # 草图46 → 凸台-拉伸13 (add)
    with BuildSketch(Plane(origin=(0, 3, 0), x_dir=(1, 0, 0), z_dir=(0, 1, 0))):
        with Locations((2.976074231, -5.285782501)):
            Rectangle(SKETCH_46_W, SKETCH_46_H)
    extrude(amount=-EXTRUDE_13_DEPTH)

    # 草图48 → 切除-拉伸18 (cut)
    with BuildSketch(Plane.XZ.offset(49)):
        with BuildLine():
            Line((-0.25, 3.071565001), (6.25, 3.071565001))
            ThreePointArc((6.25, 3.071565001), (3, 6.321565001), (-0.25, 3.071565001))
        make_face()
    extrude(amount=-CUT_EXTRUDE_18_DEPTH, mode=Mode.SUBTRACT)

    # 草图49 → 凸台-拉伸14 (add)
    with BuildSketch(Plane.XZ.offset(EXTRUDE_START)):
        with BuildLine():
            Line((-0.25, 3.071565001), (-3.637479638, 3.071565001))
            Line((-3.637479638, 3.071565001), (-3.637479638, 7.5))
            Line((-3.637479638, 7.5), (-39, 7.5))
            Line((-39, 7.5), (-39, -7.5))
            Line((-39, -7.5), (39, -7.5))
            Line((39, -7.5), (39, 7.5))
            Line((39, 7.5), (9.5896281, 7.5))
            Line((9.5896281, 7.5), (9.5896281, 3.071565001))
            Line((9.5896281, 3.071565001), (6.25, 3.071565001))
            ThreePointArc((6.25, 3.071565001), (3, -0.178434999), (-0.25, 3.071565001))
        make_face()
    extrude(amount=-EXTRUDE_14_DEPTH)

    # 草图50 → 切除-拉伸19 (cut)
    with BuildSketch(Plane(origin=(0, 0, 0), x_dir=(1, 0, 0), z_dir=(0, 1, 0))):
        with Locations(Location((-34.76, -1.72, 0), (0, 0, 270))):
            Circle(SKETCH_50_R)
    extrude(amount=-CUT_EXTRUDE_19_DEPTH, mode=Mode.SUBTRACT)

    # 草图51 → 切除-拉伸20 (cut)
    with BuildSketch(Plane(origin=(0, 0, 0), x_dir=(1, 0, 0), z_dir=(0, 1, 0))):
        with Locations(Location((-24.35, 4.1, 0), (0, 0, 270))):
            Circle(SKETCH_51_R)
    extrude(amount=-CUT_EXTRUDE_20_DEPTH, mode=Mode.SUBTRACT)

    # 草图52 → 切除-拉伸21 (cut)
    with BuildSketch(Plane(origin=(0, 0, 0), x_dir=(1, 0, 0), z_dir=(0, 1, 0))):
        with Locations(Location((7.56, 4.221692081, 0), (0, 0, 270))):
            Circle(SKETCH_52_R)
    extrude(amount=-CUT_EXTRUDE_21_DEPTH, mode=Mode.SUBTRACT)

    # 草图53 → 切除-拉伸22 (cut)
    with BuildSketch(Plane(origin=(0, 0, 0), x_dir=(1, 0, 0), z_dir=(0, 1, 0))):
        with Locations(Location((31.56, 4.221692081, 0), (0, 0, 270))):
            Circle(SKETCH_53_R)
    extrude(amount=-CUT_EXTRUDE_22_DEPTH, mode=Mode.SUBTRACT)

    # 草图54 → 切除-拉伸23 (cut)
    with BuildSketch(Plane(origin=(0, 3, 0), x_dir=(1, 0, 0), z_dir=(0, 1, 0))):
        Rectangle(SKETCH_54_W, SKETCH_54_H)
    extrude(amount=-CUT_EXTRUDE_23_DEPTH, mode=Mode.SUBTRACT)

    # Ø3.0mm 暗销孔4
    with Locations(Plane(origin=(-2.206820669, -45.974417651, 0.09011929), x_dir=(0.496907618427, 0, -0.867803444767), z_dir=(-0.867803444767, 0, -0.496907618427))):
        with Locations((0, 0)):
            Hole(F_3_0MM_4_D / 2, depth=F_3_0MM_4_DEPTH)
            with Locations((0, 0, -(F_3_0MM_4_DEPTH + F_3_0MM_4_TIP / 2))):  # 118° drill point
                Cone(0, F_3_0MM_4_D / 2, F_3_0MM_4_TIP, mode=Mode.SUBTRACT)

    # Ø3.0mm 暗销孔5
    with Locations(Plane(origin=(8.192046128, -46.012961975, 0.064463904), x_dir=(0.501183516141, 0, 0.865341021303), z_dir=(0.865341021303, 0, -0.501183516141))):
        with Locations((0, 0)):
            Hole(F_3_0MM_5_D / 2, depth=F_3_0MM_5_DEPTH)
            with Locations((0, 0, -(F_3_0MM_5_DEPTH + F_3_0MM_5_TIP / 2))):  # 118° drill point
                Cone(0, F_3_0MM_5_D / 2, F_3_0MM_5_TIP, mode=Mode.SUBTRACT)

    # 草图60 → 凸台-拉伸15 (add)
    with BuildSketch(Plane.XZ.offset(49)):
        with Locations(Location((3, 3.071565001, 0), (0, 0, 270))):
            Circle(SKETCH_60_R)
    extrude(amount=-EXTRUDE_15_DEPTH)

    # 草图61 → 切除-拉伸24 (cut)
    with BuildSketch(Plane(origin=(0, -43, 0), x_dir=(1, 0, 0), z_dir=(0, 1, 0)).offset(CUT_EXTRUDE_START)):
        with Locations(Location((3, -3.071565001, 0), (0, 0, 270))):
            Circle(SKETCH_61_R)
    extrude(amount=CUT_EXTRUDE_24_DEPTH, mode=Mode.SUBTRACT)

    # Ø3.0mm 暗销孔6
    with Locations(Plane(origin=(3.050736778, -46.031856967, -5.928291986), x_dir=(-0.999984109623, 0, -0.00563741982), z_dir=(0.00563741982, 0, -0.999984109623))):
        with Locations((0, 0)):
            Hole(F_3_0MM_6_D / 2, depth=F_3_0MM_6_DEPTH)
            with Locations((0, 0, -(F_3_0MM_6_DEPTH + F_3_0MM_6_TIP / 2))):  # 118° drill point
                Cone(0, F_3_0MM_6_D / 2, F_3_0MM_6_TIP, mode=Mode.SUBTRACT)

    # Ø3.0mm 暗销孔7
    with Locations(Plane(origin=(10.848450321, -45.825193133, 7.476315567), x_dir=(-0.489416729598, 0, 0.872050035715), z_dir=(0.872050035715, 0, 0.489416729598))):
        with Locations((0, 0)):
            Hole(F_3_0MM_7_D / 2, depth=F_3_0MM_7_DEPTH)
            with Locations((0, 0, -(F_3_0MM_7_DEPTH + F_3_0MM_7_TIP / 2))):  # 118° drill point
                Cone(0, F_3_0MM_7_D / 2, F_3_0MM_7_TIP, mode=Mode.SUBTRACT)

    # Ø3.0mm 暗销孔7 on face 2
    with Locations(Plane(origin=(-4.772770579, -45.937170264, 7.608528471), x_dir=(-0.504107089648, 0, -0.863641153586), z_dir=(-0.863641153586, 0, 0.504107089648))):
        with Locations((0, 0)):
            Hole(F_3_0MM_7_ON_FACE_2_D / 2, depth=F_3_0MM_7_ON_FACE_2_DEPTH)
            with Locations((0, 0, -(F_3_0MM_7_ON_FACE_2_DEPTH + F_3_0MM_7_ON_FACE_2_TIP / 2))):  # 118° drill point
                Cone(0, F_3_0MM_7_ON_FACE_2_D / 2, F_3_0MM_7_ON_FACE_2_TIP, mode=Mode.SUBTRACT)

    # Ø3.0mm 暗销孔8
    with Locations(Plane(origin=(-4.802469017, -45.919748804, -1.414131961), x_dir=(0.498410773573, 0, -0.866941001906), z_dir=(-0.866941001906, 0, -0.498410773573))):
        with Locations((0, 0)):
            Hole(F_3_0MM_8_D / 2, depth=F_3_0MM_8_DEPTH)
            with Locations((0, 0, -(F_3_0MM_8_DEPTH + F_3_0MM_8_TIP / 2))):  # 118° drill point
                Cone(0, F_3_0MM_8_D / 2, F_3_0MM_8_TIP, mode=Mode.SUBTRACT)

    # Ø3.0mm 暗销孔8 on face 2
    with Locations(Plane(origin=(10.779191078, -46.092465244, -1.454380886), x_dir=(0.502882779306, 0, 0.864354620672), z_dir=(0.864354620672, 0, -0.502882779306))):
        with Locations((1e-09, 0)):
            Hole(F_3_0MM_8_ON_FACE_2_D / 2, depth=F_3_0MM_8_ON_FACE_2_DEPTH)
            with Locations((0, 0, -(F_3_0MM_8_ON_FACE_2_DEPTH + F_3_0MM_8_ON_FACE_2_TIP / 2))):  # 118° drill point
                Cone(0, F_3_0MM_8_ON_FACE_2_D / 2, F_3_0MM_8_ON_FACE_2_TIP, mode=Mode.SUBTRACT)


solid = part.part
